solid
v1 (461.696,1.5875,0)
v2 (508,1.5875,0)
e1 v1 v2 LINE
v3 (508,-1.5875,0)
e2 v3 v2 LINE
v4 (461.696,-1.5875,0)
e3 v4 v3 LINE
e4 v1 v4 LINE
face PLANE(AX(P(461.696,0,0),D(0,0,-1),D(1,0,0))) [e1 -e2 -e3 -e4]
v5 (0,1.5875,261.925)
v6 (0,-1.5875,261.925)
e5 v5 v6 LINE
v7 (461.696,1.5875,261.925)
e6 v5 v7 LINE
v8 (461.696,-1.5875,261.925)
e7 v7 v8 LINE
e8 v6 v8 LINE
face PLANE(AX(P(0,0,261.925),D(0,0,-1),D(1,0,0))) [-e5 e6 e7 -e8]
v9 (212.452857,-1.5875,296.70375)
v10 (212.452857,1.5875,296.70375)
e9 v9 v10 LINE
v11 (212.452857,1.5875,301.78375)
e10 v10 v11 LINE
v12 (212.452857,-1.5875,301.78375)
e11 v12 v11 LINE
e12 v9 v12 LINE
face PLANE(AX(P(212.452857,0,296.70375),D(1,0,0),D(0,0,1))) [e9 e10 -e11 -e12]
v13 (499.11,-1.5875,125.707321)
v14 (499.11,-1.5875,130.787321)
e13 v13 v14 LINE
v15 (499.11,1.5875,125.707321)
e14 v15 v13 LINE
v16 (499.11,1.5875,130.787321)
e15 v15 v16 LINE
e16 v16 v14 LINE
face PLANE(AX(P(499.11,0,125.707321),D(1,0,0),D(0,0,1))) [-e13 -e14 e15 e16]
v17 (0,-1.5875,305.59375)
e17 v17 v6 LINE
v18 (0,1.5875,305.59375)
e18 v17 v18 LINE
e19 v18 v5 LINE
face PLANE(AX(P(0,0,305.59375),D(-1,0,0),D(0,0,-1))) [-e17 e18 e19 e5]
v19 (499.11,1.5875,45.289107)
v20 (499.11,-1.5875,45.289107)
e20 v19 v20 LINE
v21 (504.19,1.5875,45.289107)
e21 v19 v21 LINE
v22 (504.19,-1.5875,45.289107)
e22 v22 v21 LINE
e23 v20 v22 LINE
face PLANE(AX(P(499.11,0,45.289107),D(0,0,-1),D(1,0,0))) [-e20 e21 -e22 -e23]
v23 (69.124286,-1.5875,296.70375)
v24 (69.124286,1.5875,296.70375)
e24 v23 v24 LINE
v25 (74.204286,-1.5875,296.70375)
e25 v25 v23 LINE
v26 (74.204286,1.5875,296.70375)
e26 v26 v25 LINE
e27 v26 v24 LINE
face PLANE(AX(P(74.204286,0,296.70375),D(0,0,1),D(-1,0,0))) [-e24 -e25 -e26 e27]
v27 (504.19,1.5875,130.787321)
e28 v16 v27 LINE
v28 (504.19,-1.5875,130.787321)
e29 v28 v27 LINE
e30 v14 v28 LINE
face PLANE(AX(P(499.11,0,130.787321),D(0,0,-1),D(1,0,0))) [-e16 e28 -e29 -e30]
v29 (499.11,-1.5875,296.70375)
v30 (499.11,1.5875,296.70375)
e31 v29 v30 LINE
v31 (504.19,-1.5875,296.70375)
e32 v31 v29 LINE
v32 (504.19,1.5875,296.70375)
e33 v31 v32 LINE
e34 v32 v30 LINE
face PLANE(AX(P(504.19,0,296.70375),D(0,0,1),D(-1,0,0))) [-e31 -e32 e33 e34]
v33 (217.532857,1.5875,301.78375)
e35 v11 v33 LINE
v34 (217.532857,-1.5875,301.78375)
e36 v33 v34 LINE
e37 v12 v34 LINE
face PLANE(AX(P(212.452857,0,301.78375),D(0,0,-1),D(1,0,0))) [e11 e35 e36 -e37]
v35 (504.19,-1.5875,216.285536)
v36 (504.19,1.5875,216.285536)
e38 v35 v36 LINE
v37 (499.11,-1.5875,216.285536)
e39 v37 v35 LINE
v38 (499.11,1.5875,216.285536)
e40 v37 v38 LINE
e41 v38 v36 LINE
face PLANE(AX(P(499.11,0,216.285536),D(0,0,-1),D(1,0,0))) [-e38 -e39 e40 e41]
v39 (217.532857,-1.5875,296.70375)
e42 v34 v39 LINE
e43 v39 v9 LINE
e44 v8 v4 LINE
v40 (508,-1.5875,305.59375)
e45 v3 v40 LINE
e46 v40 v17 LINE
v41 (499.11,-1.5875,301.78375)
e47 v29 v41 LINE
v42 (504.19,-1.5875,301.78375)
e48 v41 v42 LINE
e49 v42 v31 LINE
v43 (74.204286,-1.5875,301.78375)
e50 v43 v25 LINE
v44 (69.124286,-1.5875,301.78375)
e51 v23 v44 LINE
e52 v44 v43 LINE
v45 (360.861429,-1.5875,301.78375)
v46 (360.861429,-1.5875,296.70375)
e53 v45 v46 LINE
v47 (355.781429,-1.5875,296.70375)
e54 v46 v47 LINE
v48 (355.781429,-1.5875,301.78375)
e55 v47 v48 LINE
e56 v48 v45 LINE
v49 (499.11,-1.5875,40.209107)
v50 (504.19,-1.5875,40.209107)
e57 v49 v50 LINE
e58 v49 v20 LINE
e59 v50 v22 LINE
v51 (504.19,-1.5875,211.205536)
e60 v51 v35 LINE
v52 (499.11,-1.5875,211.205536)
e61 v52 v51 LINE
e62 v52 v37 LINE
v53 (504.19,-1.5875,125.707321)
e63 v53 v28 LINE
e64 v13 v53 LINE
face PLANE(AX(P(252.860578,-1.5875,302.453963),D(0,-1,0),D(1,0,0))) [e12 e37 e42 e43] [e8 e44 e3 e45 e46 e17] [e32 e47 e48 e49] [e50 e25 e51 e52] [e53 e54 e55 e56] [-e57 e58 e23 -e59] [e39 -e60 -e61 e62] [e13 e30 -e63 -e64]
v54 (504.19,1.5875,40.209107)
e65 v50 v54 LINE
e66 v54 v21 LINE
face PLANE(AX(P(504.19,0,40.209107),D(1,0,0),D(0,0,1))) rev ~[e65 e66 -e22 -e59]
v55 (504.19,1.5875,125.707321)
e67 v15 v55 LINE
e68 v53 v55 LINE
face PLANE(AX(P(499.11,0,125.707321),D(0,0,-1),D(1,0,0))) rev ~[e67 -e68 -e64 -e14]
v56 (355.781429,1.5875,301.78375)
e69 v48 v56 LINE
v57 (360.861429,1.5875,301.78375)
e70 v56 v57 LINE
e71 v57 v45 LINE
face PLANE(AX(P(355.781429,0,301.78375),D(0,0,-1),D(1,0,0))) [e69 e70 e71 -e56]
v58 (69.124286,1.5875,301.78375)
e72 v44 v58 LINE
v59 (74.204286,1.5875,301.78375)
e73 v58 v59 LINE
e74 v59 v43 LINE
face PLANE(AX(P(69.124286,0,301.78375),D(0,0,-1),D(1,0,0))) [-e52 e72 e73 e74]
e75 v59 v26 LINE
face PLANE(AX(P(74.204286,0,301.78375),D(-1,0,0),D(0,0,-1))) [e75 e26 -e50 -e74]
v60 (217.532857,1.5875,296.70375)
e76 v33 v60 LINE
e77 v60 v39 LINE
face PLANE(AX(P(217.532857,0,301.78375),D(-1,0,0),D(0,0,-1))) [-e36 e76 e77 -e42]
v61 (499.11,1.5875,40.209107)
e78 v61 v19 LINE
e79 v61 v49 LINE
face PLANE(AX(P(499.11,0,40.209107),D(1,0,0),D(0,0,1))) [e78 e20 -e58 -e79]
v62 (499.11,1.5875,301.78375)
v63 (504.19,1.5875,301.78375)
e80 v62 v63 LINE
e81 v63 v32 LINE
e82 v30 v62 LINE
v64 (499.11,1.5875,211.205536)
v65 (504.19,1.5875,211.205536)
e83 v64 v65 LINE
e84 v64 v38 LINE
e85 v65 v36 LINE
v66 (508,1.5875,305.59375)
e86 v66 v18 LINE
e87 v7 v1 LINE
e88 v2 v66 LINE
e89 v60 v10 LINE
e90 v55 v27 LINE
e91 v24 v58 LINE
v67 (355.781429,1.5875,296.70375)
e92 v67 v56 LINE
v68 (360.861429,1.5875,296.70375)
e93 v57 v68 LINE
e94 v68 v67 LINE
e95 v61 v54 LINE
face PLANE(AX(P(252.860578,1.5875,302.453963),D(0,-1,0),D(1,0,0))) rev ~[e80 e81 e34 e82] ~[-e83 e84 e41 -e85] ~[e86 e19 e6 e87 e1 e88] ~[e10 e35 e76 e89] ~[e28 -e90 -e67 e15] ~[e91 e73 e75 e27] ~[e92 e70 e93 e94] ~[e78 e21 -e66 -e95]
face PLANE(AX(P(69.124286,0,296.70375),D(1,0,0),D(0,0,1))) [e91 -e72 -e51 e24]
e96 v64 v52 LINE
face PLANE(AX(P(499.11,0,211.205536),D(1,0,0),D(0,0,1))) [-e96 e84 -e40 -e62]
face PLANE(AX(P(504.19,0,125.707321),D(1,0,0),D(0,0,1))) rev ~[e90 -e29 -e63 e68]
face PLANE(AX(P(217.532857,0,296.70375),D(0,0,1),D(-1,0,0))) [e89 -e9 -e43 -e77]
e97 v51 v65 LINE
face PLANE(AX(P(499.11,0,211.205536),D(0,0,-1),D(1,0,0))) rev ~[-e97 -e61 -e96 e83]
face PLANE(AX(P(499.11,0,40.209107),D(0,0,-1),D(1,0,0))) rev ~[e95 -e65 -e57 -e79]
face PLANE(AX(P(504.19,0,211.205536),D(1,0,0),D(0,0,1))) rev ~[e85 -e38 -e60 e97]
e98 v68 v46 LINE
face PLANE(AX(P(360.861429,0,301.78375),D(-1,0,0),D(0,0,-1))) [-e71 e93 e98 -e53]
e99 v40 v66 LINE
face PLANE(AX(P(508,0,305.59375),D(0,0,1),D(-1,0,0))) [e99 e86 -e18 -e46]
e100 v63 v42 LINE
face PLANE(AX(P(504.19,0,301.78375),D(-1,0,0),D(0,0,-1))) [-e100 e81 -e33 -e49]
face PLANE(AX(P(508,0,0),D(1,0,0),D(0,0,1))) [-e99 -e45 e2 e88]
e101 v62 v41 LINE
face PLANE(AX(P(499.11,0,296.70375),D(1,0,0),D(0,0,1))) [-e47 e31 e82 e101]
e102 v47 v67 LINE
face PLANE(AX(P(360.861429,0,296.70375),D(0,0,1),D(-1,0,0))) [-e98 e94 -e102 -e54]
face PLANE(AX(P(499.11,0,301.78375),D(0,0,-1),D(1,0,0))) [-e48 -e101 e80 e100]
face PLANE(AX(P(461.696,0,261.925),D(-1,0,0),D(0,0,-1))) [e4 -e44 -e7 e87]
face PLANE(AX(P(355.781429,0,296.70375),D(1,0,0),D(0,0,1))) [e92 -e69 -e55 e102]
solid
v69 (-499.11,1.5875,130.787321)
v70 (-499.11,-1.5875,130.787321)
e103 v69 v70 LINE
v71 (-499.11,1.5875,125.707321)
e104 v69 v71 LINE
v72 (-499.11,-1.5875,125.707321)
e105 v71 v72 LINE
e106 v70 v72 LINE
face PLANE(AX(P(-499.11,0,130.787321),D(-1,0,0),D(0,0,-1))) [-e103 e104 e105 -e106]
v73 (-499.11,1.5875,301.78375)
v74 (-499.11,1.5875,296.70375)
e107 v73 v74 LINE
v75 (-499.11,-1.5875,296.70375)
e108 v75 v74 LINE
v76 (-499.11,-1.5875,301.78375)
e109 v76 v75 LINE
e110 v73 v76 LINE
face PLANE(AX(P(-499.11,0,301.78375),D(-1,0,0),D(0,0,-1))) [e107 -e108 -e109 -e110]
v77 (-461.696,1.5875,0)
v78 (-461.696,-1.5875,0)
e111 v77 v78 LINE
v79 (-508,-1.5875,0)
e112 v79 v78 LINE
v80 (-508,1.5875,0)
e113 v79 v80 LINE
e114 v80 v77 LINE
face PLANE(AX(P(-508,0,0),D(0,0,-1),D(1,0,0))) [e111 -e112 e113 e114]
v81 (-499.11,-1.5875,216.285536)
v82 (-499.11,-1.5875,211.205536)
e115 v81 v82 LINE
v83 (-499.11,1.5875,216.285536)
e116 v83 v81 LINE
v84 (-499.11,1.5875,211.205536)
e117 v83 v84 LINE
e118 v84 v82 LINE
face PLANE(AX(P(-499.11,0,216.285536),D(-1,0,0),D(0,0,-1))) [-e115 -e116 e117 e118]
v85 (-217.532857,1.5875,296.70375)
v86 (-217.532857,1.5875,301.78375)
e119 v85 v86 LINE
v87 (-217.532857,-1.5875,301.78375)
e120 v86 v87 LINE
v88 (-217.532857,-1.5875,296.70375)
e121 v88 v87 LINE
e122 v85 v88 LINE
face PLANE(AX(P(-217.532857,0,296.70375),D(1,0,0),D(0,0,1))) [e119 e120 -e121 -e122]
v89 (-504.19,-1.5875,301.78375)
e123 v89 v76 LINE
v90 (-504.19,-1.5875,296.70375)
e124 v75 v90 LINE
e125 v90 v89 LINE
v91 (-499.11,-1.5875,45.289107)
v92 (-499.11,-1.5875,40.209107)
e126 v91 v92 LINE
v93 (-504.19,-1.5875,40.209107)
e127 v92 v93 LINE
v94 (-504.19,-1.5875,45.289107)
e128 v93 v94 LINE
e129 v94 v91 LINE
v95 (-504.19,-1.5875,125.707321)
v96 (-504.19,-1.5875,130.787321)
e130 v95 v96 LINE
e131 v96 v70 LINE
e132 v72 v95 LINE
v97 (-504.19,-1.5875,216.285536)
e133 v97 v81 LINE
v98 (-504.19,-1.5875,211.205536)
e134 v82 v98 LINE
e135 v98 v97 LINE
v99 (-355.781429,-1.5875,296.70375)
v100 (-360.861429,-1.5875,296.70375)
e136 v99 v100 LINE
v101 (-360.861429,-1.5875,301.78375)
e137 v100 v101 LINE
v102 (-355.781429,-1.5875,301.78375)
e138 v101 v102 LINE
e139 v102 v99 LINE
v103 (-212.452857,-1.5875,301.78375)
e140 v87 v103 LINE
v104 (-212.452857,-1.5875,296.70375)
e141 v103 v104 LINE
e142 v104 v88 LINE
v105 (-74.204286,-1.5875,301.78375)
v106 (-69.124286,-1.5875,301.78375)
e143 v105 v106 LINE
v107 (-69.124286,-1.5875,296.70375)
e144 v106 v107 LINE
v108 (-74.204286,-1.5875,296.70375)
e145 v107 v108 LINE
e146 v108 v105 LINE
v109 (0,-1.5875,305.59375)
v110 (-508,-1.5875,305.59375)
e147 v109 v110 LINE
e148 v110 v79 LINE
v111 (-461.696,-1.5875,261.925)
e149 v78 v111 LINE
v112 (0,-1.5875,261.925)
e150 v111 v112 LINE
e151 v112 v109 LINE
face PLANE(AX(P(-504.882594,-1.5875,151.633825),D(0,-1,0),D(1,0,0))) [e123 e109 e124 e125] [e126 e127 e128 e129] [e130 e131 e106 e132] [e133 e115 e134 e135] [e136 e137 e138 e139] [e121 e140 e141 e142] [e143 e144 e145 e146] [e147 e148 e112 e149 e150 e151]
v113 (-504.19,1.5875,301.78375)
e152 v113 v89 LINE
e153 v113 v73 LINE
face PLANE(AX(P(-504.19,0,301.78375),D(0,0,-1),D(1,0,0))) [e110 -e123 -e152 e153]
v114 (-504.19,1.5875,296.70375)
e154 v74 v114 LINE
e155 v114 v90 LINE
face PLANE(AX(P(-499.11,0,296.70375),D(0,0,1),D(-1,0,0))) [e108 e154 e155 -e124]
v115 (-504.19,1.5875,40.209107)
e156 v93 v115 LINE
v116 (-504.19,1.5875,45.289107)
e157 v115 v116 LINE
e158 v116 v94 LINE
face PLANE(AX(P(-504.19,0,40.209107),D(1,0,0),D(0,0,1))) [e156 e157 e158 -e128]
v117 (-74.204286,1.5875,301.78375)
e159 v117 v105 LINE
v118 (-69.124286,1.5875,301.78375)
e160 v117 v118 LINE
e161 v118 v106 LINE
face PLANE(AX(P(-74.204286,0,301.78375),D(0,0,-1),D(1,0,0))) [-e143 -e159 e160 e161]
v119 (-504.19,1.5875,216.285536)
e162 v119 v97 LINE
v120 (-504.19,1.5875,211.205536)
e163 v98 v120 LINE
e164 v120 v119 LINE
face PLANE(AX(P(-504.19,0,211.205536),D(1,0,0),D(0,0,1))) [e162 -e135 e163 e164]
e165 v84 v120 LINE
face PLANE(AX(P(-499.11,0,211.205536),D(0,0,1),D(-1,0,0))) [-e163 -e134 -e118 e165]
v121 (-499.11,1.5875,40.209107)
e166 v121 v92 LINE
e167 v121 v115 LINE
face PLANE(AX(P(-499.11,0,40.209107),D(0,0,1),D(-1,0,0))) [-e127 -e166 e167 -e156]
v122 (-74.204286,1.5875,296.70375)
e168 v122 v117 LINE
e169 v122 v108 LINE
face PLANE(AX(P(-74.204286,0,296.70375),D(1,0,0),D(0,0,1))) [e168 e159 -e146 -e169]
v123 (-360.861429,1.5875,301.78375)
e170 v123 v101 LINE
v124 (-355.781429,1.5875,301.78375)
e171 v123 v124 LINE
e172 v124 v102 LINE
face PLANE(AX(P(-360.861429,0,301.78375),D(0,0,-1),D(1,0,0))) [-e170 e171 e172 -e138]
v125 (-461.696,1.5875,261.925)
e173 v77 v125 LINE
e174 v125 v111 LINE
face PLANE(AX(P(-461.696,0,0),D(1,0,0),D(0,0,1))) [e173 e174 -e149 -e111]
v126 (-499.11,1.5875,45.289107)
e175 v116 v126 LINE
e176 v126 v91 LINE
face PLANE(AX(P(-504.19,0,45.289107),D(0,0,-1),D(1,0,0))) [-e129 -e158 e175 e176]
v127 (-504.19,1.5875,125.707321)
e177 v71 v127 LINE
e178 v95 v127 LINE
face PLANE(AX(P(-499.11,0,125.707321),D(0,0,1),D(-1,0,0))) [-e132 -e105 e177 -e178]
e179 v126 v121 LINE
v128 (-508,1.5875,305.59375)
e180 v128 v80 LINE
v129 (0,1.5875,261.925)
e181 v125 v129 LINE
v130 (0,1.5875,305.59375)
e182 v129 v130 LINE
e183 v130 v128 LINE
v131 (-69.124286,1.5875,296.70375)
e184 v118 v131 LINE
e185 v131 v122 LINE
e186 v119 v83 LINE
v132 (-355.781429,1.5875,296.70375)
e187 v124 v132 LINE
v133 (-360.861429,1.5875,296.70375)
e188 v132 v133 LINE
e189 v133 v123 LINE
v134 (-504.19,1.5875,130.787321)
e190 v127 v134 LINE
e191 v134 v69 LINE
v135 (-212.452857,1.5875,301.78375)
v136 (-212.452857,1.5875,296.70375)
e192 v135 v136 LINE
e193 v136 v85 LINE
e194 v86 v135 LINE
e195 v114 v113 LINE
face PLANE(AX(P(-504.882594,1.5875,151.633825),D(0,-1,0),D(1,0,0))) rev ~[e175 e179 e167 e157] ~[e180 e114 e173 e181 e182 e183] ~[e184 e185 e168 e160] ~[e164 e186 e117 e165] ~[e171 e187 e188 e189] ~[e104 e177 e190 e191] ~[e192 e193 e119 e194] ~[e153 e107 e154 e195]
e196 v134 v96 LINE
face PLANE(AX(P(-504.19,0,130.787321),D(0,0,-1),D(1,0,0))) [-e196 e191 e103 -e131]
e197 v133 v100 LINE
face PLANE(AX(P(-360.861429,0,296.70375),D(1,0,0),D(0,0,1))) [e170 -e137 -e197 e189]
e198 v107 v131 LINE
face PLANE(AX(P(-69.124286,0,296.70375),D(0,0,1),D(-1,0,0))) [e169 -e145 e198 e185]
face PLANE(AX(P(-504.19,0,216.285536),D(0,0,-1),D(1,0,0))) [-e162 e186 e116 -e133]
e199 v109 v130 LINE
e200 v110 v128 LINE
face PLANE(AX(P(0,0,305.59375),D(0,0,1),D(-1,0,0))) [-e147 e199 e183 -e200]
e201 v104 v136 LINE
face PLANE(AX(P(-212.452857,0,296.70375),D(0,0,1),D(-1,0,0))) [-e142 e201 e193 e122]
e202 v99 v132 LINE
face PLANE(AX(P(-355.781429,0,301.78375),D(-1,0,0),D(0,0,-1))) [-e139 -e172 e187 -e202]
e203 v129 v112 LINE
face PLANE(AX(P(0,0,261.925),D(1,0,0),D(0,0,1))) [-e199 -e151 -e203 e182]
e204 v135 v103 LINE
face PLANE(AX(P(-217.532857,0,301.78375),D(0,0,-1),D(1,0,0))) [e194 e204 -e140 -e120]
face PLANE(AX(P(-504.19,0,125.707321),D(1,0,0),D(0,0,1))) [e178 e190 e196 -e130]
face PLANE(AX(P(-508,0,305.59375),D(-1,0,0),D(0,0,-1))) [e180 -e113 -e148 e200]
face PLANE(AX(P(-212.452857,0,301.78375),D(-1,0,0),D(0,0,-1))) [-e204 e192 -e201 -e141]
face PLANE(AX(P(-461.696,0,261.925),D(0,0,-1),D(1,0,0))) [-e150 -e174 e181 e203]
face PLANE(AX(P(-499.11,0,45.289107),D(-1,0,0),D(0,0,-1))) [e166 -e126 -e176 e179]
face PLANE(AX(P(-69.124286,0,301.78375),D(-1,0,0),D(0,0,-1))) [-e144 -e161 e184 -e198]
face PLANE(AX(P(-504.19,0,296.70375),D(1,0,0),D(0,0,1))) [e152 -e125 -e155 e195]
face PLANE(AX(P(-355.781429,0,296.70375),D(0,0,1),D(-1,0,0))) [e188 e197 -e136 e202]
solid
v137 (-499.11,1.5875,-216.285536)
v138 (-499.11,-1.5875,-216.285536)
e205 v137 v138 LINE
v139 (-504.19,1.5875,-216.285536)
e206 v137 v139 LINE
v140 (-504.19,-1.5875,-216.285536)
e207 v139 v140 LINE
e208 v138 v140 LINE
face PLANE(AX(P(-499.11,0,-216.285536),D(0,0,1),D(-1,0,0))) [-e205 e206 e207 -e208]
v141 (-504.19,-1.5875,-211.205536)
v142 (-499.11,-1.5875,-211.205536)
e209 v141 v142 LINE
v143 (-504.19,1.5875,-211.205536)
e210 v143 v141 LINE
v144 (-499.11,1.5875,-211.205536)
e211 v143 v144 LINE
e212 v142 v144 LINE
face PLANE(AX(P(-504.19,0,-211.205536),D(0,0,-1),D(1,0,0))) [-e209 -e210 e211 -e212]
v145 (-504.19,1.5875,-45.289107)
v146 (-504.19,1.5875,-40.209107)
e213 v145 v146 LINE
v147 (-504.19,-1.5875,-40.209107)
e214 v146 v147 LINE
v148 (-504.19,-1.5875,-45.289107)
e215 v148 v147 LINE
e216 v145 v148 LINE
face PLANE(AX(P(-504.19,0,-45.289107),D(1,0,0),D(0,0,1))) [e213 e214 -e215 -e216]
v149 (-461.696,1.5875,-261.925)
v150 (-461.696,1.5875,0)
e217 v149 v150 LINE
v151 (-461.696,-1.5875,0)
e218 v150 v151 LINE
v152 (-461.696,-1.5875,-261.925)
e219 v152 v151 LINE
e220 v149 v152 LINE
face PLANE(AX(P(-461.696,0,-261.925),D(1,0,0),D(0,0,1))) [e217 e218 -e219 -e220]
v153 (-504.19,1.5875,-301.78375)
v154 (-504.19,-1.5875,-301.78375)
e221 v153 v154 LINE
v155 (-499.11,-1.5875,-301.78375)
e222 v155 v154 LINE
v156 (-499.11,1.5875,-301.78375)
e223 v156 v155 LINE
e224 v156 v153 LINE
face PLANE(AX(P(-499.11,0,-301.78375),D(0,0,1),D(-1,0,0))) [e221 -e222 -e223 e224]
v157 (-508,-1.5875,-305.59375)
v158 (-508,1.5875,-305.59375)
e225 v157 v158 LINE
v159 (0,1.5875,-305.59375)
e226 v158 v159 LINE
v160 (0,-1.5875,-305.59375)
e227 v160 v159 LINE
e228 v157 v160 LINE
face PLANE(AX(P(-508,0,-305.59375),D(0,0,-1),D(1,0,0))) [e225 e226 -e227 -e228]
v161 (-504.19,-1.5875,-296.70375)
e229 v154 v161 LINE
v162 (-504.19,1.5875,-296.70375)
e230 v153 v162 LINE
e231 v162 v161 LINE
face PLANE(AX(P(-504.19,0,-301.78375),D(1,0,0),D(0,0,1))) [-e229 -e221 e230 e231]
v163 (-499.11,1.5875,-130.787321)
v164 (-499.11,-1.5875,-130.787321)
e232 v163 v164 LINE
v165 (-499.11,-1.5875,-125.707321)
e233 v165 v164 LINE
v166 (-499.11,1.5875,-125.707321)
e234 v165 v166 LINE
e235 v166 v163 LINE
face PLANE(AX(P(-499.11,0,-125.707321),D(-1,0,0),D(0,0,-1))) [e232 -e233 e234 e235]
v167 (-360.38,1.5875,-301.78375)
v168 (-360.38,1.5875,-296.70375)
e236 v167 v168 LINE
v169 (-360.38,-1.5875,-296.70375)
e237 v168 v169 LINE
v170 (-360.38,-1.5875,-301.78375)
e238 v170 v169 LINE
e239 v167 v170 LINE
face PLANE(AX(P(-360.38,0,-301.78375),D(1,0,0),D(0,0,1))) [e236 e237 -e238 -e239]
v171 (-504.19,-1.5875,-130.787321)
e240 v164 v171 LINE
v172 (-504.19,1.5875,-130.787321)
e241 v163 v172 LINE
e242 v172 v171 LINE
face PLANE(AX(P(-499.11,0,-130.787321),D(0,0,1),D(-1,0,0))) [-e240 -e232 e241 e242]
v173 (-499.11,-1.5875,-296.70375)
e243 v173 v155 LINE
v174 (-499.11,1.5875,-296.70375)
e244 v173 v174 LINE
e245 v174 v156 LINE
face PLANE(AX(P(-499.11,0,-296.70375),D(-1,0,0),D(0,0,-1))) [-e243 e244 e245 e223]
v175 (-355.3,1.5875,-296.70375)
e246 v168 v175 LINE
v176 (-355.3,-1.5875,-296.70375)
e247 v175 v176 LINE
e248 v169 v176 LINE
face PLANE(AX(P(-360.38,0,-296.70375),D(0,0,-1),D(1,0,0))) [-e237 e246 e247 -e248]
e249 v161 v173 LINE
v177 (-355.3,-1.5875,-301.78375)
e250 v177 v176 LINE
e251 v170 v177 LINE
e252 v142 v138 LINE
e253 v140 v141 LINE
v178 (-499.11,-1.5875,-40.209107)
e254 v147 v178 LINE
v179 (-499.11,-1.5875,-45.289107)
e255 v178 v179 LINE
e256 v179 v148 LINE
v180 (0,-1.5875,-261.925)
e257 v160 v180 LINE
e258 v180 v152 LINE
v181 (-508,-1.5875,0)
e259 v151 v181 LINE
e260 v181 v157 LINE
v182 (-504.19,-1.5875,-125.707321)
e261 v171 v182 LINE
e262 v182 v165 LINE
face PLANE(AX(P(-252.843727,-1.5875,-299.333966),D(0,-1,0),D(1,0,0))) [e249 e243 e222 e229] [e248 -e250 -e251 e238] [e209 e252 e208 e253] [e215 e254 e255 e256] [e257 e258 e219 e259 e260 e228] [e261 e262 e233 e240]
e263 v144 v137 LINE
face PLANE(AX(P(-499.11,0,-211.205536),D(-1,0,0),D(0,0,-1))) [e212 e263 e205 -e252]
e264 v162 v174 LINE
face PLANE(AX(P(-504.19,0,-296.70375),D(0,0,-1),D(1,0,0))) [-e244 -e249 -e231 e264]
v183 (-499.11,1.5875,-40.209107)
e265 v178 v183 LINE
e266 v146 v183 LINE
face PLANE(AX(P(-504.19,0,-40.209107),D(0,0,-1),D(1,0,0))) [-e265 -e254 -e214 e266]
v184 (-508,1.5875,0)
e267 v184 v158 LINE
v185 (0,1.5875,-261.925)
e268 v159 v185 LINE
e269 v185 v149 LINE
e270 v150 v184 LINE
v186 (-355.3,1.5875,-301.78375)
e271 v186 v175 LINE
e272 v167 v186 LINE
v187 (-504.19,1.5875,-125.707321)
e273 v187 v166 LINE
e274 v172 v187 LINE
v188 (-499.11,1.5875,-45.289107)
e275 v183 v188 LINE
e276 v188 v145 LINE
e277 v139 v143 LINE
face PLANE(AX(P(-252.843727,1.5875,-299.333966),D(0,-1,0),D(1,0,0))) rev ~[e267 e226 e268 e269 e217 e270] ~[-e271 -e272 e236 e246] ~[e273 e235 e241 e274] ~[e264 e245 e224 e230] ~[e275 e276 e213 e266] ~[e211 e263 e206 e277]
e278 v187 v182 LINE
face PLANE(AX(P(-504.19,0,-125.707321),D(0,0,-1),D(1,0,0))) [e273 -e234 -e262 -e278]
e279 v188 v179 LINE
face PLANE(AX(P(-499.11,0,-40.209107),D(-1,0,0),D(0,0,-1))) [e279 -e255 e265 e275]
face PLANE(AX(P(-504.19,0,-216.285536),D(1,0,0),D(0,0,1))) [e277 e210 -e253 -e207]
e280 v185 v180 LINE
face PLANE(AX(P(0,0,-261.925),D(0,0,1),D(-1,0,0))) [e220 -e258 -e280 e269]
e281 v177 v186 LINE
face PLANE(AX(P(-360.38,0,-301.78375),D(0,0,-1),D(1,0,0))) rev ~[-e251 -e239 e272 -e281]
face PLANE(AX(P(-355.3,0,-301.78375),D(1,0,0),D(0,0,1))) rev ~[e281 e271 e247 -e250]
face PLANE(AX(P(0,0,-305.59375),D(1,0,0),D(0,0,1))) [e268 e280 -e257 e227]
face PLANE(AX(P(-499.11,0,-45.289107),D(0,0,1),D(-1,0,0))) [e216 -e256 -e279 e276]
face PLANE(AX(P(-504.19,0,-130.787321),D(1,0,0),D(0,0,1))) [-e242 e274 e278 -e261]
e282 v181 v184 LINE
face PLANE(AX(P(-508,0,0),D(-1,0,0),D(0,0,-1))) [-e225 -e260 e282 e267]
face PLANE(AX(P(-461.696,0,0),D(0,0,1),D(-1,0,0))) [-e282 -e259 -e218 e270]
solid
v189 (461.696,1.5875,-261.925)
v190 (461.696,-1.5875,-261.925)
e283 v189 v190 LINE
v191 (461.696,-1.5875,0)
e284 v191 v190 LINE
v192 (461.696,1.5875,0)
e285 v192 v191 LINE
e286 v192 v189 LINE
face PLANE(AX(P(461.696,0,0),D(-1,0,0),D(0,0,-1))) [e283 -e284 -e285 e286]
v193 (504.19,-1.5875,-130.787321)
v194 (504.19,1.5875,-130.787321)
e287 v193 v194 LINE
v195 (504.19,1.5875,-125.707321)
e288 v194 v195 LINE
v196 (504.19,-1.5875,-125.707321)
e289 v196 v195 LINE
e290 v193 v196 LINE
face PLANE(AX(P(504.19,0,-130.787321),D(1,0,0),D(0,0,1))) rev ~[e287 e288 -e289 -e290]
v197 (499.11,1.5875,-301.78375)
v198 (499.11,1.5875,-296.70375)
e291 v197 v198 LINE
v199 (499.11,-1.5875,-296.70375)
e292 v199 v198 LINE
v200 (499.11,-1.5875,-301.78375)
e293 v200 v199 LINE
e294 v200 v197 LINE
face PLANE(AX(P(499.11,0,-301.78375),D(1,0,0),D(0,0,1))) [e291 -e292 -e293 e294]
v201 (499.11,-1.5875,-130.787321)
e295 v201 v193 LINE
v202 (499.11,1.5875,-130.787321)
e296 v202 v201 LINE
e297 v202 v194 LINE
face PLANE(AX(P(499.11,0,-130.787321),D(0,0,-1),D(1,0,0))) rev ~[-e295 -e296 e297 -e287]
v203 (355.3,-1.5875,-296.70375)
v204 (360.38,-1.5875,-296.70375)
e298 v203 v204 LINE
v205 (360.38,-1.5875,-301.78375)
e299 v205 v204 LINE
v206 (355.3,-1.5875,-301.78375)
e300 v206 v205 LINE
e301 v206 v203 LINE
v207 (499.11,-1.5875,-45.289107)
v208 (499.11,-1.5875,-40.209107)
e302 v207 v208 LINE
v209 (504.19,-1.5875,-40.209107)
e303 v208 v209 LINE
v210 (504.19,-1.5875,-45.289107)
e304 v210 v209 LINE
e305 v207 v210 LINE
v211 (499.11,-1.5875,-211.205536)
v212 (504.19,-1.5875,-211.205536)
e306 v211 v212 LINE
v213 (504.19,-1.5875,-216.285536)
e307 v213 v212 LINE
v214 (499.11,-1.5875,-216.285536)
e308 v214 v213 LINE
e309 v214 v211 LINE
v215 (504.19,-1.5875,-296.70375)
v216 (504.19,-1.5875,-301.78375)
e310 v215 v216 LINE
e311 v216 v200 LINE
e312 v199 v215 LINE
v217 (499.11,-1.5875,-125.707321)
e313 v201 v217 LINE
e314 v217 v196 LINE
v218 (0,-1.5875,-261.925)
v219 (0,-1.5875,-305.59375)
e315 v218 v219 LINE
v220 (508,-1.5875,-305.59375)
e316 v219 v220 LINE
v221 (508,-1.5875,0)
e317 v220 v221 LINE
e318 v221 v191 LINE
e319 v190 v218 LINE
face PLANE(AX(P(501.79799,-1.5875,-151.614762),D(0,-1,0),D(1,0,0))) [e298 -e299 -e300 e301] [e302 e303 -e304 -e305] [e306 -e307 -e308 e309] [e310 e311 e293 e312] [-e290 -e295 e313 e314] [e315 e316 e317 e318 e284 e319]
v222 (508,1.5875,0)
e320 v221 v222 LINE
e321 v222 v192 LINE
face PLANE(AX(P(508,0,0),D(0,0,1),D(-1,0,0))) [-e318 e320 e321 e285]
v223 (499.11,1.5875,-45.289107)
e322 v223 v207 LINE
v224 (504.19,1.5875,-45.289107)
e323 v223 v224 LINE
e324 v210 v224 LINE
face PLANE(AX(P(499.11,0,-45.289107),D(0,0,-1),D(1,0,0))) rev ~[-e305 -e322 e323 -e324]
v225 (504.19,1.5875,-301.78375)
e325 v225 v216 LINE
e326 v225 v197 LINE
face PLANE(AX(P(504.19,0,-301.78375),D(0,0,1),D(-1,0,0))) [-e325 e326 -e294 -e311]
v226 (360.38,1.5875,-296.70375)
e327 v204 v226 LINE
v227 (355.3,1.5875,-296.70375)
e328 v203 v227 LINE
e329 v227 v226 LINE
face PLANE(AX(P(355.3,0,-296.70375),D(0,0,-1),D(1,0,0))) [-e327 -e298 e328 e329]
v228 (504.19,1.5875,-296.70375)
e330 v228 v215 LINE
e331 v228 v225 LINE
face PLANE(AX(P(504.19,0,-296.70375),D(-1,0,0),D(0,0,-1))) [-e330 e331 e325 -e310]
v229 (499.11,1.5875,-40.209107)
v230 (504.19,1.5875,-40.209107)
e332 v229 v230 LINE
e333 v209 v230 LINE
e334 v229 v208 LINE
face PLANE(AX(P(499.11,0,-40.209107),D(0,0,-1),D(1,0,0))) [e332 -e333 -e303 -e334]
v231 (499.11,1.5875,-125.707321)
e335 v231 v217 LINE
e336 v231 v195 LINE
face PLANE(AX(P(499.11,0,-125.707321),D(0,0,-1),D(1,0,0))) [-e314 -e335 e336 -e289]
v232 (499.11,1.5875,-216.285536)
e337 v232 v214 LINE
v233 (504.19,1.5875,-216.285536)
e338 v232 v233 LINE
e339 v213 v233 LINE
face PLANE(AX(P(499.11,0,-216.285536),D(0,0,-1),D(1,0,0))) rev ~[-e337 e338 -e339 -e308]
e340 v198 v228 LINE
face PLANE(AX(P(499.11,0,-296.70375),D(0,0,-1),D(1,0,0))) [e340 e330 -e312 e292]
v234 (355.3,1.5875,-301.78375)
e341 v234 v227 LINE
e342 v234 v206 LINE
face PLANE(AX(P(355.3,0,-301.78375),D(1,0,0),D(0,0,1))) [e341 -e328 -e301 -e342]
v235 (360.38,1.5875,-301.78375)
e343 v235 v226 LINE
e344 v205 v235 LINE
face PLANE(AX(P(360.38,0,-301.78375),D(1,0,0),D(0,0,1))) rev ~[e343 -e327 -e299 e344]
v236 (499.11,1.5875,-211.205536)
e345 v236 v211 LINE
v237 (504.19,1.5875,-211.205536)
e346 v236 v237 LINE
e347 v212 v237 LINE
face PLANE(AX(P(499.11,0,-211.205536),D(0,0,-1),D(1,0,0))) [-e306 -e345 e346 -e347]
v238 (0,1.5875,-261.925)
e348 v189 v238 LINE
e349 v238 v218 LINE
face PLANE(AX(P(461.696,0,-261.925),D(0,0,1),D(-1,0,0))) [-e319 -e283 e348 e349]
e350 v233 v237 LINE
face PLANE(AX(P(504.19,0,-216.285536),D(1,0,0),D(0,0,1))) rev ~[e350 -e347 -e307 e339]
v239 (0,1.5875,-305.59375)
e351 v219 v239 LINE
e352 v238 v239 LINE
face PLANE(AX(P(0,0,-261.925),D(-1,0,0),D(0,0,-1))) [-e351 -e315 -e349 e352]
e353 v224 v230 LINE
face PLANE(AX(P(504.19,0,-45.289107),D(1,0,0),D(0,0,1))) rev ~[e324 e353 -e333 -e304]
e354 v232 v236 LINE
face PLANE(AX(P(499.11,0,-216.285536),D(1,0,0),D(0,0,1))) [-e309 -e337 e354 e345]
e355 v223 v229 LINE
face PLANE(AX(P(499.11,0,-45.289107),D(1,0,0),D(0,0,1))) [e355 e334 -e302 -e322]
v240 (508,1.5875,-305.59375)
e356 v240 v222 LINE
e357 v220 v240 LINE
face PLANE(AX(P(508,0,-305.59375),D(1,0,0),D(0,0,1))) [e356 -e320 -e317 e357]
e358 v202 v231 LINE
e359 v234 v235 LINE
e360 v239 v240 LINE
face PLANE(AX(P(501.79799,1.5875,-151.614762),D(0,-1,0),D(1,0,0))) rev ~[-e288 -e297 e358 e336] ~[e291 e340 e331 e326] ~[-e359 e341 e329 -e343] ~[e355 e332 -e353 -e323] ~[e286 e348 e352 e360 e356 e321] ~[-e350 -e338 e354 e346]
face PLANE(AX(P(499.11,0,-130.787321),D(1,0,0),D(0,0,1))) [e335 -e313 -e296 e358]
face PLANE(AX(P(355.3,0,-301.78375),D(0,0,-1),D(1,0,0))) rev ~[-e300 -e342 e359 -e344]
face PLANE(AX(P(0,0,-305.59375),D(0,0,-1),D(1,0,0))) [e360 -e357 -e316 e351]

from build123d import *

# Parameters (mm, degrees)
F1_DEPTH = 1.5875
F0_W     = 5.08
F0_H     = 5.08
F2_DEPTH = 1.5875
F3_DEPTH = 1.5875
F4_DEPTH = 1.5875


with BuildPart() as f1:
    # F0 (on Front) → F1 (new body, symmetric)
    with BuildSketch(Plane.XZ):
        Polygon((-508, 0), (-501.65, 0), (-501.65, 40.209107), (-504.19, 40.209107), (-504.19, 45.289107), (-501.65, 45.289107), (-501.65, 125.707321), (-504.19, 125.707321), (-504.19, 130.787321), (-501.65, 130.787321), (-501.65, 211.205536), (-504.19, 211.205536), (-504.19, 216.285536), (-501.65, 216.285536), (-501.65, 296.70375), (-504.19, 296.70375), (-504.19, 301.78375), (-508, 305.59375), align=None)
        Polygon((-495.3, 0), (-495.3, 292.89375), (-499.11, 296.70375), (-501.65, 296.70375), (-501.65, 216.285536), (-499.11, 216.285536), (-499.11, 211.205536), (-501.65, 211.205536), (-501.65, 130.787321), (-499.11, 130.787321), (-499.11, 125.707321), (-501.65, 125.707321), (-501.65, 45.289107), (-499.11, 45.289107), (-499.11, 40.209107), (-501.65, 40.209107), (-501.65, 0), align=None)
        Polygon((0, 261.925), (0, 276.225), (-475.996, 276.225), (-475.996, 0), (-461.696, 0), (-461.696, 261.925), align=None)
        Polygon((-495.3, 292.89375), (0, 292.89375), (0, 299.24375), (-69.124286, 299.24375), (-69.124286, 296.70375), (-74.204286, 296.70375), (-74.204286, 299.24375), (-212.452857, 299.24375), (-212.452857, 296.70375), (-217.532857, 296.70375), (-217.532857, 299.24375), (-355.781429, 299.24375), (-355.781429, 296.70375), (-360.861429, 296.70375), (-360.861429, 299.24375), (-499.11, 299.24375), (-499.11, 296.70375), align=None)
        Polygon((-69.124286, 299.24375), (0, 299.24375), (0, 305.59375), (-508, 305.59375), (-504.19, 301.78375), (-499.11, 301.78375), (-499.11, 299.24375), (-360.861429, 299.24375), (-360.861429, 301.78375), (-355.781429, 301.78375), (-355.781429, 299.24375), (-217.532857, 299.24375), (-217.532857, 301.78375), (-212.452857, 301.78375), (-212.452857, 299.24375), (-74.204286, 299.24375), (-74.204286, 301.78375), (-69.124286, 301.78375), align=None)
        Polygon((0, 276.225), (0, 292.89375), (-495.3, 292.89375), (-495.3, 0), (-475.996, 0), (-475.996, 276.225), align=None)
    extrude(amount=F1_DEPTH, both=True)


with BuildPart() as f2:
    # F0 (on Front) → F2 (new body, symmetric)
    with BuildSketch(Plane.XZ):
        Polygon((0, 305.59375), (0, 299.24375), (69.124286, 299.24375), (69.124286, 301.78375), (74.204286, 301.78375), (74.204286, 299.24375), (212.452857, 299.24375), (212.452857, 301.78375), (217.532857, 301.78375), (217.532857, 299.24375), (355.781429, 299.24375), (355.781429, 301.78375), (360.861429, 301.78375), (360.861429, 299.24375), (499.11, 299.24375), (499.11, 301.78375), (504.19, 301.78375), (508, 305.59375), align=None)
        Polygon((0, 292.89375), (495.3, 292.89375), (499.11, 296.70375), (499.11, 299.24375), (360.861429, 299.24375), (360.861429, 296.70375), (355.781429, 296.70375), (355.781429, 299.24375), (217.532857, 299.24375), (217.532857, 296.70375), (212.452857, 296.70375), (212.452857, 299.24375), (74.204286, 299.24375), (74.204286, 296.70375), (69.124286, 296.70375), (69.124286, 299.24375), (0, 299.24375), align=None)
        Polygon((495.3, 0), (495.3, 292.89375), (0, 292.89375), (0, 276.225), (475.996, 276.225), (475.996, 0), align=None)
        Polygon((475.996, 276.225), (0, 276.225), (0, 261.925), (461.696, 261.925), (461.696, 0), (475.996, 0), align=None)
        Polygon((499.11, 296.70375), (495.3, 292.89375), (495.3, 0), (508, 0), (508, 305.59375), (504.19, 301.78375), (504.19, 296.70375), align=None)
        with Locations((501.65, 42.749107)):
            Rectangle(F0_W, F0_H, mode=Mode.SUBTRACT)
        with Locations((501.65, 128.247321)):
            Rectangle(F0_W, F0_H, mode=Mode.SUBTRACT)
        with Locations((501.65, 213.745536)):
            Rectangle(F0_W, F0_H, mode=Mode.SUBTRACT)
    extrude(amount=F2_DEPTH, both=True)


with BuildPart() as f3:
    # F0 (on Front) → F3 (new body, symmetric)
    with BuildSketch(Plane.XZ):
        Polygon((508, 0), (495.3, 0), (495.3, -292.89375), (499.11, -296.70375), (504.19, -296.70375), (504.19, -301.78375), (508, -305.59375), align=None)
        with Locations((501.65, -213.745536)):
            Rectangle(F0_W, F0_H, mode=Mode.SUBTRACT)
        with Locations((501.65, -128.247321)):
            Rectangle(F0_W, F0_H, mode=Mode.SUBTRACT)
        with Locations((501.65, -42.749107)):
            Rectangle(F0_W, F0_H, mode=Mode.SUBTRACT)
        Polygon((495.3, -292.89375), (495.3, 0), (475.996, 0), (475.996, -276.225), (0, -276.225), (0, -292.89375), align=None)
        Polygon((475.996, -276.225), (475.996, 0), (461.696, 0), (461.696, -261.925), (0, -261.925), (0, -276.225), align=None)
        Polygon((499.11, -296.70375), (495.3, -292.89375), (0, -292.89375), (0, -305.59375), (508, -305.59375), (504.19, -301.78375), (499.11, -301.78375), align=None)
        with Locations((357.84, -299.24375)):
            Rectangle(F0_W, F0_H, mode=Mode.SUBTRACT)
    extrude(amount=F3_DEPTH, both=True)


with BuildPart() as f4:
    # F0 (on Front) → F4 (new body, symmetric)
    with BuildSketch(Plane.XZ):
        Polygon((0, -305.59375), (0, -292.89375), (-495.3, -292.89375), (-499.11, -296.70375), (-499.11, -301.78375), (-504.19, -301.78375), (-508, -305.59375), align=None)
        with Locations((-357.84, -299.24375)):
            Rectangle(F0_W, F0_H, mode=Mode.SUBTRACT)
        Polygon((-475.996, 0), (-495.3, 0), (-495.3, -292.89375), (0, -292.89375), (0, -276.225), (-475.996, -276.225), align=None)
        Polygon((-461.696, 0), (-475.996, 0), (-475.996, -276.225), (0, -276.225), (0, -261.925), (-461.696, -261.925), align=None)
        Polygon((-495.3, -292.89375), (-495.3, 0), (-501.65, 0), (-501.65, -40.209107), (-499.11, -40.209107), (-499.11, -45.289107), (-501.65, -45.289107), (-501.65, -125.707321), (-499.11, -125.707321), (-499.11, -130.787321), (-501.65, -130.787321), (-501.65, -211.205536), (-499.11, -211.205536), (-499.11, -216.285536), (-501.65, -216.285536), (-501.65, -296.70375), (-499.11, -296.70375), align=None)
        Polygon((-501.65, -40.209107), (-501.65, 0), (-508, 0), (-508, -305.59375), (-504.19, -301.78375), (-504.19, -296.70375), (-501.65, -296.70375), (-501.65, -216.285536), (-504.19, -216.285536), (-504.19, -211.205536), (-501.65, -211.205536), (-501.65, -130.787321), (-504.19, -130.787321), (-504.19, -125.707321), (-501.65, -125.707321), (-501.65, -45.289107), (-504.19, -45.289107), (-504.19, -40.209107), align=None)
    extrude(amount=F4_DEPTH, both=True)


solid = Compound([f1.part, f2.part, f3.part, f4.part])
